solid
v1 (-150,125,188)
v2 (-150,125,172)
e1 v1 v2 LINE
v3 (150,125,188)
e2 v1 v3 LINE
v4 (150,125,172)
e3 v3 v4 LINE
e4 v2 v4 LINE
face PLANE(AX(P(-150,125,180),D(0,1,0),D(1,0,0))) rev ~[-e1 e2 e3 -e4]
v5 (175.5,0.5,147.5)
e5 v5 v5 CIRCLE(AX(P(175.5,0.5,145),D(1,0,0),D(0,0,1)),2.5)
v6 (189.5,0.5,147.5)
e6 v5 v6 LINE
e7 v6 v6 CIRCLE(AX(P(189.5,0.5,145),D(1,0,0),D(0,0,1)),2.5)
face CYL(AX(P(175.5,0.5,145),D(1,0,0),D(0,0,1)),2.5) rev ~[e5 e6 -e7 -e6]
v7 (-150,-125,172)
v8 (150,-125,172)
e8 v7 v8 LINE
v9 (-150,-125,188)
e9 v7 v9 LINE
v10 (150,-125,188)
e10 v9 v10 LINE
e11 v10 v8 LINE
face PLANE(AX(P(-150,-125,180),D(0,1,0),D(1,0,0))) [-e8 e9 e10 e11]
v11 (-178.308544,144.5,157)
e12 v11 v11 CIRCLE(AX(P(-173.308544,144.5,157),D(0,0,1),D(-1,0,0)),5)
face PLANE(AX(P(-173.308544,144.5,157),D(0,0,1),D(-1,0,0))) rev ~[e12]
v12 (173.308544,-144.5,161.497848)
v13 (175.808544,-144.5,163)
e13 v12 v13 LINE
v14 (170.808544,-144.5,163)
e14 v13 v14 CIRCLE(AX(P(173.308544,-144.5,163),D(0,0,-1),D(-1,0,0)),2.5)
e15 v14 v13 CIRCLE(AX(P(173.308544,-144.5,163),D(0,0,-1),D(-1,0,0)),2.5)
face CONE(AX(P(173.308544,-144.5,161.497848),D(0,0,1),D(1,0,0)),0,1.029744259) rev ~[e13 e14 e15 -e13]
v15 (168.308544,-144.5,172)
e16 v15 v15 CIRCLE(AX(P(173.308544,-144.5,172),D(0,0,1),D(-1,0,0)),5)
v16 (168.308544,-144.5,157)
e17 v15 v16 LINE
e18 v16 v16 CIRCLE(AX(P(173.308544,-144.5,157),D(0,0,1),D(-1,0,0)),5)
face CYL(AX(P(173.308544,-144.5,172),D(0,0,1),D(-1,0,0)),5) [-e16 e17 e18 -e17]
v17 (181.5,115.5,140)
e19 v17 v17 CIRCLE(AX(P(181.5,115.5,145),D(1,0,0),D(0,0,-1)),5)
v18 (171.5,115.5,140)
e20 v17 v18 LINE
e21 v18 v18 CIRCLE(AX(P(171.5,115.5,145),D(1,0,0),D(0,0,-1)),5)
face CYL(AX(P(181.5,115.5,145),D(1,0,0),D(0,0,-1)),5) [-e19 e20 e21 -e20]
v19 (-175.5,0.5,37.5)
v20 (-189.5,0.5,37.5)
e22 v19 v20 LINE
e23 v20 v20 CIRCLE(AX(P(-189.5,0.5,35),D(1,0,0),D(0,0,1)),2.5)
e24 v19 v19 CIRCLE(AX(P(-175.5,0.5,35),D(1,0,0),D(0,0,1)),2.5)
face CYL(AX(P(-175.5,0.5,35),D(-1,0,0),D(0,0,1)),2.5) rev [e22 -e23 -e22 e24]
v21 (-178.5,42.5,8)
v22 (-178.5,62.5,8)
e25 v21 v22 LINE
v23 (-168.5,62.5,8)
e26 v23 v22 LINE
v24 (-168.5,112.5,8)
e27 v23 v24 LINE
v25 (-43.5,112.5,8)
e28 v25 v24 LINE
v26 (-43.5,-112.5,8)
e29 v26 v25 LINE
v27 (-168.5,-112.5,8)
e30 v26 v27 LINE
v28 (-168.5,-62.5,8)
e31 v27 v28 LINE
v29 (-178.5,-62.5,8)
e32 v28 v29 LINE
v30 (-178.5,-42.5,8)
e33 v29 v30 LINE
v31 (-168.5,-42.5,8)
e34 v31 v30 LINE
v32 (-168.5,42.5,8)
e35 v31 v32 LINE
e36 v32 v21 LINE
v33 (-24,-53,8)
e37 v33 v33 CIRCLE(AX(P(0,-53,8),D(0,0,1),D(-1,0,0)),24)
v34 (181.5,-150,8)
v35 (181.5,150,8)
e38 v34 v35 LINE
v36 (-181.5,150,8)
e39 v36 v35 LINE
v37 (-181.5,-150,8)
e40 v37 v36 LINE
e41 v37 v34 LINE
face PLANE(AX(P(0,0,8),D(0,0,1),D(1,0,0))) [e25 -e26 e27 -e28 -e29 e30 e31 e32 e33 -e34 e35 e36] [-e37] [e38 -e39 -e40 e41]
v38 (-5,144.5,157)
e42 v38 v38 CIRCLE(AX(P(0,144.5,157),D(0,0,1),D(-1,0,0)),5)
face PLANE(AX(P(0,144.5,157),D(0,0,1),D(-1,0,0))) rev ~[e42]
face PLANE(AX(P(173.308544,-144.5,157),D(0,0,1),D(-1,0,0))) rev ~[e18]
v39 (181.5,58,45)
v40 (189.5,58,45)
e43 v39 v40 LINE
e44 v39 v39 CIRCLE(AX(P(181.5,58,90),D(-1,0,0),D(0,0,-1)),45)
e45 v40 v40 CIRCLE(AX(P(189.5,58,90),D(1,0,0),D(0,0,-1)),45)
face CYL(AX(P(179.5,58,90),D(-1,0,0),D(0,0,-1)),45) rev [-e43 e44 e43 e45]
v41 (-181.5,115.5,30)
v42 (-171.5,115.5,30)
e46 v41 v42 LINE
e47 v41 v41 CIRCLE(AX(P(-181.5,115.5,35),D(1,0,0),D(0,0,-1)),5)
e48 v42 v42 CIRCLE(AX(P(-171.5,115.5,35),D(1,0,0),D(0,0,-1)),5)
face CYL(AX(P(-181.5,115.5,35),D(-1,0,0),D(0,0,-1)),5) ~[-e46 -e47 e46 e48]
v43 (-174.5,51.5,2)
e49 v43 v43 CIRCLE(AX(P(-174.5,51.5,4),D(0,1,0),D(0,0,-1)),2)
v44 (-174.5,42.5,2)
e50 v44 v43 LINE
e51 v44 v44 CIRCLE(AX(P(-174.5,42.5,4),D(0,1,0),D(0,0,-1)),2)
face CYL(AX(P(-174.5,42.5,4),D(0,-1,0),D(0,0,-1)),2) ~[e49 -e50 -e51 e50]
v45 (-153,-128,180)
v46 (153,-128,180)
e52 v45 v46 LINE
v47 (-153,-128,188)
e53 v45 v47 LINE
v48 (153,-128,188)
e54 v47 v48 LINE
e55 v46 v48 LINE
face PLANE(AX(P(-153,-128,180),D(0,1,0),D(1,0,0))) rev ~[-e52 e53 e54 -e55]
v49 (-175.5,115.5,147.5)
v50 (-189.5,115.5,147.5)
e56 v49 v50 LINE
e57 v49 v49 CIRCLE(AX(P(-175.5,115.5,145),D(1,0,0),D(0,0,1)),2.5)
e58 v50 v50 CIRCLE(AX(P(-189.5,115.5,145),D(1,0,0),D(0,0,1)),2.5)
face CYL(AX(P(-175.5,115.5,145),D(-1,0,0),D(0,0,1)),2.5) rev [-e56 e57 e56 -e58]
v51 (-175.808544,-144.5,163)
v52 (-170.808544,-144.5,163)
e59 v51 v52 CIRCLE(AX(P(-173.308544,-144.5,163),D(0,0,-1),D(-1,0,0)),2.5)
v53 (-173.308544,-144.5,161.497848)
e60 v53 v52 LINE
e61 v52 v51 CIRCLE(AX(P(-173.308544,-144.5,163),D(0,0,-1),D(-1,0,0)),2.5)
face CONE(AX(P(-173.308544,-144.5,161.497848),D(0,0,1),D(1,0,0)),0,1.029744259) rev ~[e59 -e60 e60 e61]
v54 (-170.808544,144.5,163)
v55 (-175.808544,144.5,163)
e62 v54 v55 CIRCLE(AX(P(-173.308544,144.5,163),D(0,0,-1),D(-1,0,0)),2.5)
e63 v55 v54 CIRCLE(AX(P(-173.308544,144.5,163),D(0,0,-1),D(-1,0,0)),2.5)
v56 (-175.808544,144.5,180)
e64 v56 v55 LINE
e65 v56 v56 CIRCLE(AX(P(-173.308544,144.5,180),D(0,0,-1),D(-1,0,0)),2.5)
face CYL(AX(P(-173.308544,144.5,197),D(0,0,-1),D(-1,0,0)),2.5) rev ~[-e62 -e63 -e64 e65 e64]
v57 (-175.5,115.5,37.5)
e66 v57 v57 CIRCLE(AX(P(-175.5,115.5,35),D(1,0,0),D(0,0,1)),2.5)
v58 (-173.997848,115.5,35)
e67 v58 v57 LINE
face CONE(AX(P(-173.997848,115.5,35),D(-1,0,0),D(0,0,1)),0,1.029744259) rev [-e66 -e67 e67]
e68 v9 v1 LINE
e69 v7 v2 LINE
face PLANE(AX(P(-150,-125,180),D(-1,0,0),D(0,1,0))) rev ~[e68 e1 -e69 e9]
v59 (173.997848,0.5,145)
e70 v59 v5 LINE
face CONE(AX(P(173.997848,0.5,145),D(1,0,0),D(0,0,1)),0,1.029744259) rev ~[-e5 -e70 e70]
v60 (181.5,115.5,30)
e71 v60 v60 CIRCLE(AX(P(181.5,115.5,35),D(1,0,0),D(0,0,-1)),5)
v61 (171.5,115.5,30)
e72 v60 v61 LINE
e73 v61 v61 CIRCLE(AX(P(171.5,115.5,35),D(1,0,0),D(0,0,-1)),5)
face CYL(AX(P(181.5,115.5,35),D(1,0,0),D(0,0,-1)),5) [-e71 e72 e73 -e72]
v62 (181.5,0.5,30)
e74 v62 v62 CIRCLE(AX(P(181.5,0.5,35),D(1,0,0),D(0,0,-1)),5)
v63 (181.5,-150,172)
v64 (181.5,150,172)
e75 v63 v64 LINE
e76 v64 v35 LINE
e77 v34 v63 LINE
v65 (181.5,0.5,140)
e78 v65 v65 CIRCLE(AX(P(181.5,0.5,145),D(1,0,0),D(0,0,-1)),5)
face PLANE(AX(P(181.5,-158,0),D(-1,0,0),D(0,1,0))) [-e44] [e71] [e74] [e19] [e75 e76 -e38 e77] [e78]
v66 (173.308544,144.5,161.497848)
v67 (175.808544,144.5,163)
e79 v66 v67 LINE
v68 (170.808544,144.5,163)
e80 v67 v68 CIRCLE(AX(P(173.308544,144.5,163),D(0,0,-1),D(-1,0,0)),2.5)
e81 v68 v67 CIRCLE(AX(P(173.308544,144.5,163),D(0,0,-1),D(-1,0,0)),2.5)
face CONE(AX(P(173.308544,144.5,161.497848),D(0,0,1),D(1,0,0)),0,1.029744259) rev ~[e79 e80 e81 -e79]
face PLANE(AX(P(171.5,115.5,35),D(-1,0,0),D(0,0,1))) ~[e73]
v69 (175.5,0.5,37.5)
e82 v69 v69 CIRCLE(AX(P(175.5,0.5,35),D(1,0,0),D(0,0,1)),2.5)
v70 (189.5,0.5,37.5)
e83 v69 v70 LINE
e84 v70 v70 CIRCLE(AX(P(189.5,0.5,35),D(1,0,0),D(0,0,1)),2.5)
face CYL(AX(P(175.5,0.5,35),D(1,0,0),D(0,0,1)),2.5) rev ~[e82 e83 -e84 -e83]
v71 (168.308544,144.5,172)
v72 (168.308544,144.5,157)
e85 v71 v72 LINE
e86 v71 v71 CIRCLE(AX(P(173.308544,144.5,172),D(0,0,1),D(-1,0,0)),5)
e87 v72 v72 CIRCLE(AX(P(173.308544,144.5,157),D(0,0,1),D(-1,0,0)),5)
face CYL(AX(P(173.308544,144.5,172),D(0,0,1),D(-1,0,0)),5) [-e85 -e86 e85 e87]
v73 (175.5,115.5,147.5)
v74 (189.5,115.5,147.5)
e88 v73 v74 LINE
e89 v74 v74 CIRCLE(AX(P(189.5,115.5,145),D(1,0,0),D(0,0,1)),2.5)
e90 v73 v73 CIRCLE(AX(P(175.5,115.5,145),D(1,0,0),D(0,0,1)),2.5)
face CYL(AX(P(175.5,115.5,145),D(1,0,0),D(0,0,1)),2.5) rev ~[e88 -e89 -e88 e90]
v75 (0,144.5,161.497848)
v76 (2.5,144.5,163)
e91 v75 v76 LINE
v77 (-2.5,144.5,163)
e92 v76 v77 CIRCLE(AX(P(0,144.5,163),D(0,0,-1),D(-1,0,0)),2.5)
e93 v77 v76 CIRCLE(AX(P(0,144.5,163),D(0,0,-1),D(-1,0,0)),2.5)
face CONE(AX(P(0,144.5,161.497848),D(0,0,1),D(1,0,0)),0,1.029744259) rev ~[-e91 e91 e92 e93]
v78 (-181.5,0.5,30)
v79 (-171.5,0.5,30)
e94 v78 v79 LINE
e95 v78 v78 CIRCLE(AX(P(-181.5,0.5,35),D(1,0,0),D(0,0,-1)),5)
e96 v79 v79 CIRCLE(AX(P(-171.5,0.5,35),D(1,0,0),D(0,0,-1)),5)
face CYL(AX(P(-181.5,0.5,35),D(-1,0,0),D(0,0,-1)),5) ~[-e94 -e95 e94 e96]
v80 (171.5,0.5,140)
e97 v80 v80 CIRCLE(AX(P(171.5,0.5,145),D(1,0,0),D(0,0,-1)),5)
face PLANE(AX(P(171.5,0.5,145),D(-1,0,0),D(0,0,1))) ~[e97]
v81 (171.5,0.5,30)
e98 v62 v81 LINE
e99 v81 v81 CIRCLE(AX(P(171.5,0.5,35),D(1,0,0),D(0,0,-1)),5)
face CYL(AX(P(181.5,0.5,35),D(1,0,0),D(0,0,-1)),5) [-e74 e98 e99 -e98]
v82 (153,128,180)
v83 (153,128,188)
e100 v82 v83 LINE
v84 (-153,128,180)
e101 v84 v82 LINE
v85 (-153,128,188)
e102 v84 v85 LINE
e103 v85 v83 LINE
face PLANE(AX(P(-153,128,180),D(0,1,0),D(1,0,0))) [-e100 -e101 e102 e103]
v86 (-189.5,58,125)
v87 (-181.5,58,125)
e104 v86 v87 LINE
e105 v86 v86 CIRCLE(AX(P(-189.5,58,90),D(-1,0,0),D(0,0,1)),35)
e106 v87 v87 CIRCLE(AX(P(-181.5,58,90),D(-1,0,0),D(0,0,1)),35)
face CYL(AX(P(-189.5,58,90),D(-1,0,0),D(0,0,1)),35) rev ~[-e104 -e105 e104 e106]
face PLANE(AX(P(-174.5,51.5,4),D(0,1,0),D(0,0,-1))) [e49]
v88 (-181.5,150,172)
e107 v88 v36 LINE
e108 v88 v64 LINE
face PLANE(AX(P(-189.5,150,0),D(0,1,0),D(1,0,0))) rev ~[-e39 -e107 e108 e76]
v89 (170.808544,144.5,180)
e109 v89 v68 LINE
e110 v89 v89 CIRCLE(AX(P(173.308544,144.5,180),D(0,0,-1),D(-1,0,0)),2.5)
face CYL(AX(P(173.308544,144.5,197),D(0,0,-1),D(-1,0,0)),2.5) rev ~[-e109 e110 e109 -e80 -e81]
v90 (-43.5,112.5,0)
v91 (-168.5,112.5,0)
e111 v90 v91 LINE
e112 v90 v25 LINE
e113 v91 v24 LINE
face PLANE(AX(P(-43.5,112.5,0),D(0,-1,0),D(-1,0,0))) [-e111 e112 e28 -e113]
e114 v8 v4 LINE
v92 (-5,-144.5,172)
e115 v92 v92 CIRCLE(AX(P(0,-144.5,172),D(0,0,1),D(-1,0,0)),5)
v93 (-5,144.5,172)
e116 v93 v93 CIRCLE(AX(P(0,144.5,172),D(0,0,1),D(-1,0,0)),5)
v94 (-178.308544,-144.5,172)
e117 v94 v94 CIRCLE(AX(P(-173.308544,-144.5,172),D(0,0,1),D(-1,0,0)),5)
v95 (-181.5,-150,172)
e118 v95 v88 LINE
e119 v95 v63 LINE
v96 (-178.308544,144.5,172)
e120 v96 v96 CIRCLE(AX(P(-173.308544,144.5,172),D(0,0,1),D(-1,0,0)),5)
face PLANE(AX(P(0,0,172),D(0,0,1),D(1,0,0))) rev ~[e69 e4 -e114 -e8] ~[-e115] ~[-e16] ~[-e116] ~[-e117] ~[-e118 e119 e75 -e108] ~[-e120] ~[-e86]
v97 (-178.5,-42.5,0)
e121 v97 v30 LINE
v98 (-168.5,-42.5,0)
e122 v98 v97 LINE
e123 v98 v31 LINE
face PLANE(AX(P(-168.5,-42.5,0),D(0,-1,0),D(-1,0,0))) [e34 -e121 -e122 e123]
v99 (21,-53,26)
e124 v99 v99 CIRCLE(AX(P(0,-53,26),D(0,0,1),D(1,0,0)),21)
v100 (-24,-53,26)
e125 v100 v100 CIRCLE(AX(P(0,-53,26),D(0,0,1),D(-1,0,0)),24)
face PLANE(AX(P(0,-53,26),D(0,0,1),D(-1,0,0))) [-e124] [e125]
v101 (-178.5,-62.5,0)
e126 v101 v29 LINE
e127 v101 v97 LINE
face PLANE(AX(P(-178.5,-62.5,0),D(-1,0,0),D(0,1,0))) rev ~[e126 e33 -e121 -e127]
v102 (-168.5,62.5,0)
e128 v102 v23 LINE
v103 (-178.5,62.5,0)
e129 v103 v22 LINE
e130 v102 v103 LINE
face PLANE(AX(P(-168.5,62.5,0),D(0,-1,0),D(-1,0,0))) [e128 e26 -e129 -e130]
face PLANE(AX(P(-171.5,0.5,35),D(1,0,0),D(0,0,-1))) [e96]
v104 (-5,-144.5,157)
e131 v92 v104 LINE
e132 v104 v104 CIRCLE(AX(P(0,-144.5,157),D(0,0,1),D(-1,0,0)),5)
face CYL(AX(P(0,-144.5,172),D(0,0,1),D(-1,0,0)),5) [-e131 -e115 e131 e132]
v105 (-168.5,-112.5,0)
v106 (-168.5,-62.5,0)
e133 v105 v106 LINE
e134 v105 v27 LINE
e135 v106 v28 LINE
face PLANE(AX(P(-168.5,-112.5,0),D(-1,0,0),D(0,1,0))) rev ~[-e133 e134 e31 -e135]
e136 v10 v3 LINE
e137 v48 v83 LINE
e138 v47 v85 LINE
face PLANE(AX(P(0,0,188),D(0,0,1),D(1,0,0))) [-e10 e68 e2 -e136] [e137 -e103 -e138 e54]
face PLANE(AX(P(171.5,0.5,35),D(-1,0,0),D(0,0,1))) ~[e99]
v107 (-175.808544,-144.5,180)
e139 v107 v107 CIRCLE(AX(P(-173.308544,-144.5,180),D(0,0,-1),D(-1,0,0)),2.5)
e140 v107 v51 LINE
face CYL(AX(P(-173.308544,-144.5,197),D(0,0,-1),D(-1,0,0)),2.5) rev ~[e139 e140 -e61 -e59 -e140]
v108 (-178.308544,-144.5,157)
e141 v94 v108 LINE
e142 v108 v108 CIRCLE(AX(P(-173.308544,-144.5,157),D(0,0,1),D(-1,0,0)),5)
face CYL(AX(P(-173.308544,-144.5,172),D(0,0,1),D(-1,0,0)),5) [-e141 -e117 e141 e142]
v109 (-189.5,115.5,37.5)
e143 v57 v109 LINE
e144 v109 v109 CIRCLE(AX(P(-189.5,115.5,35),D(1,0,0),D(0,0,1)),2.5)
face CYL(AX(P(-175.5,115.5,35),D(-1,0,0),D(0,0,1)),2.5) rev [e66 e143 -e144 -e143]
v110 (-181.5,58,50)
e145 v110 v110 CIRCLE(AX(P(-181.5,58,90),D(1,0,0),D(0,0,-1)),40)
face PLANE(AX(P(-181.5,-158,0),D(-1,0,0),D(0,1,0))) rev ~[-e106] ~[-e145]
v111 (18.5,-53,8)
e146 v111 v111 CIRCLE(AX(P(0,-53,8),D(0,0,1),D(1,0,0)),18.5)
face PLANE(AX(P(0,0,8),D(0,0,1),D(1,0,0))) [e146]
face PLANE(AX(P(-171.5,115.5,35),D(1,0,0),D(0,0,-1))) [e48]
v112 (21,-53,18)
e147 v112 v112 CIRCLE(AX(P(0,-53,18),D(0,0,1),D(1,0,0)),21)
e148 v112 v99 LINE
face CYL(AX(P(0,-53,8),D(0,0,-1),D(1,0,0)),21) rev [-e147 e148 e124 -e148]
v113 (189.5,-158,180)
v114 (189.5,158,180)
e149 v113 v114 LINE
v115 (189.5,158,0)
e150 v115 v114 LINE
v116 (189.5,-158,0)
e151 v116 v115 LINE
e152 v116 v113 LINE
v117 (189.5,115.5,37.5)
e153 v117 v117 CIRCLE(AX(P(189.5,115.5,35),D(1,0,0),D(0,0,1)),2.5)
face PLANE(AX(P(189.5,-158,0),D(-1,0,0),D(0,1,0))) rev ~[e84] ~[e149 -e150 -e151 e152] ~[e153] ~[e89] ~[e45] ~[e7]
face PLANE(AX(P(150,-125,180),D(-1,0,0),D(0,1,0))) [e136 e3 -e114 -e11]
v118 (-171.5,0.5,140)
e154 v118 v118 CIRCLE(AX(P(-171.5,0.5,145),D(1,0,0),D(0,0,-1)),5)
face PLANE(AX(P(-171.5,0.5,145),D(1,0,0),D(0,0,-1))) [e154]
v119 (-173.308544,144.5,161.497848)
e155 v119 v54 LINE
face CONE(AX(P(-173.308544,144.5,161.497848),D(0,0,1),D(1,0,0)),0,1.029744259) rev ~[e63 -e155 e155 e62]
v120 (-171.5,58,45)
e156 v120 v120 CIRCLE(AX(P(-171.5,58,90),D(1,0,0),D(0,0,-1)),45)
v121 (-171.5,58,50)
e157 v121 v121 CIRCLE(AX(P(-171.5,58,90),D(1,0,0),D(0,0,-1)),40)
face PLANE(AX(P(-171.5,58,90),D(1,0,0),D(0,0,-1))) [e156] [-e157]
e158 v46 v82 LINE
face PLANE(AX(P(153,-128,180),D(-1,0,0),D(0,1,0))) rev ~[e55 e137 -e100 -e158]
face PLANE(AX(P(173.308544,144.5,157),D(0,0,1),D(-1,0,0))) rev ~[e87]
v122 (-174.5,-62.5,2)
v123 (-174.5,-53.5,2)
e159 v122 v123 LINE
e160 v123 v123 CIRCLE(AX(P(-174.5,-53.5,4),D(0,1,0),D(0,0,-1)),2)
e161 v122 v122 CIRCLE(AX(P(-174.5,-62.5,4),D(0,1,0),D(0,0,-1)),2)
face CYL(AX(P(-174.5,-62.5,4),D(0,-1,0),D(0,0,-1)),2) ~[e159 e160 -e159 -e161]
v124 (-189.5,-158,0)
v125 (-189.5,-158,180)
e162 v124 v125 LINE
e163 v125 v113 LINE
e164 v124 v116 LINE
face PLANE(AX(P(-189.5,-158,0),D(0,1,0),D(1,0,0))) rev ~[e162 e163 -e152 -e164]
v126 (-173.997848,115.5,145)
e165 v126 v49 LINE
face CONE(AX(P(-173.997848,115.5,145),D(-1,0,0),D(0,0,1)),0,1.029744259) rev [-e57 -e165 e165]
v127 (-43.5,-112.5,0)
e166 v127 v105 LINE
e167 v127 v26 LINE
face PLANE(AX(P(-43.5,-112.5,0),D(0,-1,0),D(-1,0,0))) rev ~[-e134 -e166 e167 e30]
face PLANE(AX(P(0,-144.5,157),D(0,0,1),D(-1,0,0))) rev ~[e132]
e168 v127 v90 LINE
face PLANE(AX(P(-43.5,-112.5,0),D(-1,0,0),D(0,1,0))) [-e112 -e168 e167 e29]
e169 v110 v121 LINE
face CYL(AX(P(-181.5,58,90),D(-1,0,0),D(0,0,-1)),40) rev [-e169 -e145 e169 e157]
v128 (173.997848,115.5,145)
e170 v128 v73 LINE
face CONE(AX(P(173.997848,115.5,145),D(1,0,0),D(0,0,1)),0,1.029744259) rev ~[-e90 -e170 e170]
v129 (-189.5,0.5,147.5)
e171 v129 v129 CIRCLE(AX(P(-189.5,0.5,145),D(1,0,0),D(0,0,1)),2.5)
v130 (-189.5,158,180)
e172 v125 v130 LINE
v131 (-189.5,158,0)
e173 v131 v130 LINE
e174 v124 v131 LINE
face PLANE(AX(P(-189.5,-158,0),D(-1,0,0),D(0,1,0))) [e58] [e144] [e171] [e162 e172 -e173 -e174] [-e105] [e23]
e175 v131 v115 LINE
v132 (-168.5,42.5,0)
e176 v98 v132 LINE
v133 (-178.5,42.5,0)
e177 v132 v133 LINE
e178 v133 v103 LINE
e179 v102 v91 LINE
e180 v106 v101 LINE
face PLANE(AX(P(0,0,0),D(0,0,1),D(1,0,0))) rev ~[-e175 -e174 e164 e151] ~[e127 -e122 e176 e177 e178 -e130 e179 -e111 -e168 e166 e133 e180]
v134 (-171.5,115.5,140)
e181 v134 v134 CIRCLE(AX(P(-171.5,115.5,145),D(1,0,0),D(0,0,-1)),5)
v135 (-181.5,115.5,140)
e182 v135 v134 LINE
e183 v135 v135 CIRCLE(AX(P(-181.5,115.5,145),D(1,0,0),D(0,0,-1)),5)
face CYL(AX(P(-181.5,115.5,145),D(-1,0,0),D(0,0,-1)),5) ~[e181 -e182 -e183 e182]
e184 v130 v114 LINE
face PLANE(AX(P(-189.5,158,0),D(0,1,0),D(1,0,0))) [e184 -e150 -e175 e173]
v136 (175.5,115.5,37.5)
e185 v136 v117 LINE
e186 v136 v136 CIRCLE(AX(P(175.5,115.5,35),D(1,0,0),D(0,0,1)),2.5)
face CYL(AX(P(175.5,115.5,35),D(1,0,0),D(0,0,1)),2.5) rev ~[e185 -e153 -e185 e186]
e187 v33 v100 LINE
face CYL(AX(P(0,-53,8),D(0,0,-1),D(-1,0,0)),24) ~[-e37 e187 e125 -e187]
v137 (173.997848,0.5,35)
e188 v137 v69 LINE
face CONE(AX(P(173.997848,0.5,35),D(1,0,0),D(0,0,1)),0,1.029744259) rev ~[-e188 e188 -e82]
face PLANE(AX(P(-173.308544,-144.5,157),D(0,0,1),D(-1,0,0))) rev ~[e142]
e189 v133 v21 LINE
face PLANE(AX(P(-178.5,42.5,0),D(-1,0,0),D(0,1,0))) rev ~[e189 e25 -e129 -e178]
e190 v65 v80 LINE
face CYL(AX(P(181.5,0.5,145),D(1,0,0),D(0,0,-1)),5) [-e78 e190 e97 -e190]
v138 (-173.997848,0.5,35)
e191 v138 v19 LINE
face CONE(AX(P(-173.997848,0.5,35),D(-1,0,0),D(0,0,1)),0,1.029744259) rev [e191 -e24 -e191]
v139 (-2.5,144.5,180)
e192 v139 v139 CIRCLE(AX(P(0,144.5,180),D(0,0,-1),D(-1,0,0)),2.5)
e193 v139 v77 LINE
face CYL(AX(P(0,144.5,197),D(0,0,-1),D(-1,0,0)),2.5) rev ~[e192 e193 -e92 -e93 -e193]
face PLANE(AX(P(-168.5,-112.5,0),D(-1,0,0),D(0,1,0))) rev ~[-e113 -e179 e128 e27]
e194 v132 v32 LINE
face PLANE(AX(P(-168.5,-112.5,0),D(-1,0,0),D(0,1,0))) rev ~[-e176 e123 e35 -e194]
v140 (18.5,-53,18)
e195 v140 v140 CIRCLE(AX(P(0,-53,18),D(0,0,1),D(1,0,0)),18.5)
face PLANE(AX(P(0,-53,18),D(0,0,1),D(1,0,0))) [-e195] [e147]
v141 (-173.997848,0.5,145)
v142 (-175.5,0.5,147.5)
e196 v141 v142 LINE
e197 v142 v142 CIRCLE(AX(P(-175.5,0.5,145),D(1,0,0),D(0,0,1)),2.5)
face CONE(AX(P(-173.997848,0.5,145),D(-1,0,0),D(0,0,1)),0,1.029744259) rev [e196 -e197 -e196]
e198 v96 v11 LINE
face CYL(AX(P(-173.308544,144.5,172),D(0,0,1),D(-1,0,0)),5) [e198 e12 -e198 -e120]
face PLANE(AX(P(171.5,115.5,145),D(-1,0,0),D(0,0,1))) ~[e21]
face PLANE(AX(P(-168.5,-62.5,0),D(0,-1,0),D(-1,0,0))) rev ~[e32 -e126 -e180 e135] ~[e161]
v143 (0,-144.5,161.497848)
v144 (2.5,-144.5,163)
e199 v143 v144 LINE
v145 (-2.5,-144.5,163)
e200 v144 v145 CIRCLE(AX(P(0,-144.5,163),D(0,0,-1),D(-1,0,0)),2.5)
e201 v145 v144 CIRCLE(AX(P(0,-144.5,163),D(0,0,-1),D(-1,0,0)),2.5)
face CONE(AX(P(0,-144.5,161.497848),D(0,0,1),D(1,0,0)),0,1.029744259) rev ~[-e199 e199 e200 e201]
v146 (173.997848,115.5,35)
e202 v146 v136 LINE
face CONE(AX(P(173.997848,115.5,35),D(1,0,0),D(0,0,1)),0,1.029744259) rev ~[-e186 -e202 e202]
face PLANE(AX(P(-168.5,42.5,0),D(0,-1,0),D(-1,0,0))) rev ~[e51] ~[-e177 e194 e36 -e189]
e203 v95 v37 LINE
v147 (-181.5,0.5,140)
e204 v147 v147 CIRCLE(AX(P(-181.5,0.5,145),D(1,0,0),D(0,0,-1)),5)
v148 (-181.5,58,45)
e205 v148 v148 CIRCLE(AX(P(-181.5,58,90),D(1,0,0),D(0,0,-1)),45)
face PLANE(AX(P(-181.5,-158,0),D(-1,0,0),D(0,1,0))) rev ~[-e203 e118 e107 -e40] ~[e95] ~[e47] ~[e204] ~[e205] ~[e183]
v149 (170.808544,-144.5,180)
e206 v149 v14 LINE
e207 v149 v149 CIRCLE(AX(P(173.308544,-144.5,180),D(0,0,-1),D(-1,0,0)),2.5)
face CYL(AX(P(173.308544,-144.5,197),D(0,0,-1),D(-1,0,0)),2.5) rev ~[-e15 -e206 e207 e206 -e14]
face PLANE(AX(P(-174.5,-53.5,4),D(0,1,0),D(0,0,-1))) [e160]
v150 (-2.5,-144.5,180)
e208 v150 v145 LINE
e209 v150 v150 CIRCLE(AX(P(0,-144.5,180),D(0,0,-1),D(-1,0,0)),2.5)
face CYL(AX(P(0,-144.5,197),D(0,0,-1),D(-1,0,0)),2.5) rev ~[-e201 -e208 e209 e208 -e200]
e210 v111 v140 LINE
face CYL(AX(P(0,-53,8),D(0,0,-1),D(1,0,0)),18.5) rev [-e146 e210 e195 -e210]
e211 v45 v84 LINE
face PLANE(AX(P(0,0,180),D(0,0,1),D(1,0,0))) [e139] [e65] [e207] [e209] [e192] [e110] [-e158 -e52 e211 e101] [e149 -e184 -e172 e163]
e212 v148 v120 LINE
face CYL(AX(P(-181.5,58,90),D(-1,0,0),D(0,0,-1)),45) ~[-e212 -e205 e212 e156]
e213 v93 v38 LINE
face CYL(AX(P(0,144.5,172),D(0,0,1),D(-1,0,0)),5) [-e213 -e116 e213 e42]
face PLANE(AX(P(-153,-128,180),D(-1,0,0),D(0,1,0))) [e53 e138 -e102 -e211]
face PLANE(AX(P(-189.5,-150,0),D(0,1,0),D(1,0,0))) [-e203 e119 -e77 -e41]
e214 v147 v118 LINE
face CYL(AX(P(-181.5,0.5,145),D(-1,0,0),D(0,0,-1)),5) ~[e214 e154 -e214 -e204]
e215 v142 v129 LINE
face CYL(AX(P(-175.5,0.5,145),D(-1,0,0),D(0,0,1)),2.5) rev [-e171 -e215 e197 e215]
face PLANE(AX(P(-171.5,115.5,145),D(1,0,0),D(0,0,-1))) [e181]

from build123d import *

# Parameters (mm, degrees)
CROQUIS1_W                     = 379
CROQUIS1_H                     = 316
SALIENTE_EXTRUIR1_DEPTH        = 180
VACIADO1_T                     = -8
CROQUIS2_R                     = 35
CORTAR_EXTRUIR4_DEPTH          = 20
CROQUIS4_R                     = 45
CROQUIS4_R_2                   = 40
SALIENTE_EXTRUIR4_DEPTH        = 10
CORTAR_EXTRUIR6_START          = -10
CROQUIS6_R                     = 45
CORTAR_EXTRUIR6_DEPTH          = 10
CROQUIS7_R                     = 24
CROQUIS7_R_2                   = 21
SALIENTE_EXTRUIR9_DEPTH        = 18
CROQUIS11_W                    = 363
CROQUIS11_H                    = 300
CROQUIS11_W_2                  = 300
CROQUIS11_H_2                  = 250
SALIENTE_EXTRUIR10_DEPTH       = 8
CROQUIS12_W                    = 306
CROQUIS12_H                    = 256
CROQUIS12_W_2                  = 300
CROQUIS12_H_2                  = 250
SALIENTE_EXTRUIR11_DEPTH       = 8
CROQUIS20_R                    = 21
CROQUIS20_R_2                  = 18.5
SALIENTE_EXTRUIR19_DEPTH       = 10
CROQUIS32_R                    = 5
SALIENTE_EXTRUIR22_DEPTH       = 10
TALADRO_ROSCADO_M63_AT_2_COUNT = 2
TALADRO_ROSCADO_M63_AT_2_PITCH = 110
TALADRO_ROSCADO_M63_AT_3_COUNT = 2
TALADRO_ROSCADO_M63_AT_3_PITCH = 159.138304628
TALADRO_ROSCADO_M63_AT_4_COUNT = 2
TALADRO_ROSCADO_M63_AT_4_PITCH = 115
CROQUIS28_W                    = 125
CROQUIS28_H                    = 225
CORTAR_EXTRUIR7_DEPTH          = 8
CROQUIS29_W                    = 10
CROQUIS29_H                    = 20
CORTAR_EXTRUIR9_DEPTH          = 8
CROQUIS30_R                    = 2
SALIENTE_EXTRUIR20_DEPTH       = 9
CROQUIS31_R                    = 2
SALIENTE_EXTRUIR21_DEPTH       = 9
SALIENTE_EXTRUIR23_START       = -8
CROQUIS33_R                    = 5
SALIENTE_EXTRUIR23_DEPTH       = 15
TALADRO_ROSCADO_M64_D          = 5
TALADRO_ROSCADO_M64_DEPTH      = 17
TALADRO_ROSCADO_M64_TIP        = 1.502151548


with BuildPart() as part:
    # Croquis1 → Saliente-Extruir1 (new body)
    with BuildSketch(Plane.XY):
        Rectangle(CROQUIS1_W, CROQUIS1_H)
    extrude(amount=SALIENTE_EXTRUIR1_DEPTH)

    # Vaciado1
    vaciado1_openings = [part.faces().sort_by_distance(p)[0] for p in [
        (0, 0, 180),
    ]]
    offset(amount=VACIADO1_T, openings=vaciado1_openings, kind=Kind.INTERSECTION)

    # Croquis2 → Cortar-Extruir4 (cut)
    with BuildSketch(Plane.ZY.offset(189.5)):
        with Locations((90, 58)):
            Circle(CROQUIS2_R)
    extrude(amount=-CORTAR_EXTRUIR4_DEPTH, mode=Mode.SUBTRACT)

    # Croquis4 → Saliente-Extruir4 (add)
    with BuildSketch(Plane(origin=(-181.5, 0, 0), x_dir=(0, 0, -1), z_dir=(1, 0, 0))):
        with Locations((-90, 58)):
            Circle(CROQUIS4_R)
        with Locations((-90, 58)):
            Circle(CROQUIS4_R_2, mode=Mode.SUBTRACT)
    extrude(amount=SALIENTE_EXTRUIR4_DEPTH)

    # Croquis6 → Cortar-Extruir6 (cut)
    with BuildSketch(Plane(origin=(189.5, 0, 0), x_dir=(0, 0, -1), z_dir=(1, 0, 0)).offset(CORTAR_EXTRUIR6_START)):
        with Locations((-90, 58)):
            Circle(CROQUIS6_R)
    extrude(amount=CORTAR_EXTRUIR6_DEPTH, mode=Mode.SUBTRACT)

    # Croquis7 → Saliente-Extruir9 (add)
    with BuildSketch(Plane.XY.offset(8)):
        with Locations(Location((0, -53, 0), (0, 0, 180))):
            Circle(CROQUIS7_R)
        with Locations((0, -53)):
            Circle(CROQUIS7_R_2, mode=Mode.SUBTRACT)
    extrude(amount=SALIENTE_EXTRUIR9_DEPTH)

    # Croquis11 → Saliente-Extruir10 (add)
    with BuildSketch(Plane.XY.offset(180)):
        Rectangle(CROQUIS11_W, CROQUIS11_H)
        Rectangle(CROQUIS11_W_2, CROQUIS11_H_2, mode=Mode.SUBTRACT)
    extrude(amount=-SALIENTE_EXTRUIR10_DEPTH)

    # Croquis12 → Saliente-Extruir11 (add)
    with BuildSketch(Plane.XY.offset(180)):
        Rectangle(CROQUIS12_W, CROQUIS12_H)
        Rectangle(CROQUIS12_W_2, CROQUIS12_H_2, mode=Mode.SUBTRACT)
    extrude(amount=SALIENTE_EXTRUIR11_DEPTH)

    # Croquis20 → Saliente-Extruir19 (add)
    with BuildSketch(Plane.XY.offset(8)):
        with Locations((0, -53)):
            Circle(CROQUIS20_R)
        with Locations((0, -53)):
            Circle(CROQUIS20_R_2, mode=Mode.SUBTRACT)
    extrude(amount=SALIENTE_EXTRUIR19_DEPTH)

    # Croquis32 → Saliente-Extruir22 (add)
    with BuildSketch(Plane(origin=(-181.5, 0, 0), x_dir=(0, 0, -1), z_dir=(1, 0, 0))):
        with Locations((-35, 115.5)):
            Circle(CROQUIS32_R)
        with Locations((-145, 115.5)):
            Circle(CROQUIS32_R)
        with Locations((-145, 0.5)):
            Circle(CROQUIS32_R)
        with Locations((-35, 0.5)):
            Circle(CROQUIS32_R)
    saliente_extruir22 = extrude(amount=SALIENTE_EXTRUIR22_DEPTH)

    # Croquis26 → Taladro roscado M63 (revolve, cut)
    with BuildSketch(Plane(origin=(-189.5, 115.5, 35), x_dir=(0, 0, 1), z_dir=(0, 1, 0))):
        Polygon((0, 0), (0, 15.502151548), (2.5, 14), (2.5, 0), align=None)
    taladro_roscado_m63 = revolve(axis=Axis((-195.85, 115.5, 35), (1, 0, 0)), mode=Mode.SUBTRACT)

    # Taladro roscado M63 at 2: Taladro roscado M63 ×2
    with Locations(*[(0, 0, i * TALADRO_ROSCADO_M63_AT_2_PITCH) for i in range(1, TALADRO_ROSCADO_M63_AT_2_COUNT)]):
        add(taladro_roscado_m63, mode=Mode.SUBTRACT)

    # Taladro roscado M63 at 3: Taladro roscado M63 ×2
    with Locations(*[Vector(0, -0.7226418571476992, 0.6912226459673645) * (i * TALADRO_ROSCADO_M63_AT_3_PITCH) for i in range(1, TALADRO_ROSCADO_M63_AT_3_COUNT)]):
        add(taladro_roscado_m63, mode=Mode.SUBTRACT)

    # Taladro roscado M63 at 4: Taladro roscado M63 ×2
    with Locations(*[(0, -i * TALADRO_ROSCADO_M63_AT_4_PITCH, 0) for i in range(1, TALADRO_ROSCADO_M63_AT_4_COUNT)]):
        add(taladro_roscado_m63, mode=Mode.SUBTRACT)

    # Croquis28 → Cortar-Extruir7 (cut)
    with BuildSketch(Plane(origin=(0, 0, 0), x_dir=(-1, 0, 0), z_dir=(0, 0, -1))):
        with Locations((106, 0)):
            Rectangle(CROQUIS28_W, CROQUIS28_H)
    extrude(amount=-CORTAR_EXTRUIR7_DEPTH, mode=Mode.SUBTRACT)

    # Croquis29 → Cortar-Extruir9 (cut)
    with BuildSketch(Plane(origin=(0, 0, 0), x_dir=(-1, 0, 0), z_dir=(0, 0, -1))):
        with Locations((173.5, 52.5)):
            Rectangle(CROQUIS29_W, CROQUIS29_H)
        with Locations((173.5, -52.5)):
            Rectangle(CROQUIS29_W, CROQUIS29_H)
    extrude(amount=-CORTAR_EXTRUIR9_DEPTH, mode=Mode.SUBTRACT)

    # Croquis30 → Saliente-Extruir20 (add)
    with BuildSketch(Plane(origin=(0, 42.5, 0), x_dir=(1, 0, 0), z_dir=(0, 1, 0))):
        with Locations(Location((-174.5, -4, 0), (0, 0, 90))):
            Circle(CROQUIS30_R)
    extrude(amount=SALIENTE_EXTRUIR20_DEPTH)

    # Croquis31 → Saliente-Extruir21 (add)
    with BuildSketch(Plane(origin=(0, -62.5, 0), x_dir=(1, 0, 0), z_dir=(0, 1, 0))):
        with Locations(Location((-174.5, -4, 0), (0, 0, 90))):
            Circle(CROQUIS31_R)
    extrude(amount=SALIENTE_EXTRUIR21_DEPTH)

    # Simetría1: Saliente-Extruir22 across plane
    add(saliente_extruir22.mirror(Plane(origin=(0, 0, 0), x_dir=(0, 0, 1), z_dir=(1, 0, 0))))

    # Croquis33 → Saliente-Extruir23 (add)
    with BuildSketch(Plane.XY.offset(180).offset(SALIENTE_EXTRUIR23_START)):
        with Locations(Location((0, 144.5, 0), (0, 0, 180))):
            Circle(CROQUIS33_R)
        with Locations(Location((0, -144.5, 0), (0, 0, 180))):
            Circle(CROQUIS33_R)
        with Locations(Location((173.308544304, -144.5, 0), (0, 0, 180))):
            Circle(CROQUIS33_R)
        with Locations(Location((173.308544304, 144.5, 0), (0, 0, 180))):
            Circle(CROQUIS33_R)
        with Locations(Location((-173.308544304, 144.5, 0), (0, 0, 180))):
            Circle(CROQUIS33_R)
        with Locations(Location((-173.308544304, -144.5, 0), (0, 0, 180))):
            Circle(CROQUIS33_R)
    extrude(amount=-SALIENTE_EXTRUIR23_DEPTH)

    # Taladro roscado M64
    with Locations(Plane(origin=(-173.308544304, 144.5, 180), x_dir=(1, 0, 0), z_dir=(0, 0, 1))):
        with Locations((0, 0), (173.308544304, 0), (346.617088608, 0), (346.617088608, -289), (173.308544304, -289), (0, -289)):
            Hole(TALADRO_ROSCADO_M64_D / 2, depth=TALADRO_ROSCADO_M64_DEPTH)
            with Locations((0, 0, -(TALADRO_ROSCADO_M64_DEPTH + TALADRO_ROSCADO_M64_TIP / 2))):  # 118° drill point
                Cone(0, TALADRO_ROSCADO_M64_D / 2, TALADRO_ROSCADO_M64_TIP, mode=Mode.SUBTRACT)

    # Simetría2: Taladro roscado M63 across plane
    add(taladro_roscado_m63.mirror(Plane(origin=(0, 0, 0), x_dir=(0, 0, 1), z_dir=(1, 0, 0))), mode=Mode.SUBTRACT)

    # Simetría2 copy 1 sketch → Simetría2 copy 1 (revolve, cut)
    with BuildSketch(Plane(origin=(189.5, 115.5, 145), x_dir=(0, 0, 1), z_dir=(0, 1, 0))):
        Polygon((0, 0), (0, -15.502151548), (2.5, -14), (2.5, 0), align=None)
    revolve(axis=Axis((195.85, 115.5, 145), (1, 0, 0)), mode=Mode.SUBTRACT)

    # Simetría2 copy 2 sketch → Simetría2 copy 2 (revolve, cut)
    with BuildSketch(Plane(origin=(189.5, 0.5, 145), x_dir=(0, 0, 1), z_dir=(0, 1, 0))):
        Polygon((0, 0), (0, -15.502151548), (2.5, -14), (2.5, 0), align=None)
    revolve(axis=Axis((195.85, 0.5, 145), (1, 0, 0)), mode=Mode.SUBTRACT)

    # Simetría2 copy 3 sketch → Simetría2 copy 3 (revolve, cut)
    with BuildSketch(Plane(origin=(189.5, 0.5, 35), x_dir=(0, 0, 1), z_dir=(0, 1, 0))):
        Polygon((0, 0), (0, -15.502151548), (2.5, -14), (2.5, 0), align=None)
    revolve(axis=Axis((195.85, 0.5, 35), (1, 0, 0)), mode=Mode.SUBTRACT)


solid = part.part
